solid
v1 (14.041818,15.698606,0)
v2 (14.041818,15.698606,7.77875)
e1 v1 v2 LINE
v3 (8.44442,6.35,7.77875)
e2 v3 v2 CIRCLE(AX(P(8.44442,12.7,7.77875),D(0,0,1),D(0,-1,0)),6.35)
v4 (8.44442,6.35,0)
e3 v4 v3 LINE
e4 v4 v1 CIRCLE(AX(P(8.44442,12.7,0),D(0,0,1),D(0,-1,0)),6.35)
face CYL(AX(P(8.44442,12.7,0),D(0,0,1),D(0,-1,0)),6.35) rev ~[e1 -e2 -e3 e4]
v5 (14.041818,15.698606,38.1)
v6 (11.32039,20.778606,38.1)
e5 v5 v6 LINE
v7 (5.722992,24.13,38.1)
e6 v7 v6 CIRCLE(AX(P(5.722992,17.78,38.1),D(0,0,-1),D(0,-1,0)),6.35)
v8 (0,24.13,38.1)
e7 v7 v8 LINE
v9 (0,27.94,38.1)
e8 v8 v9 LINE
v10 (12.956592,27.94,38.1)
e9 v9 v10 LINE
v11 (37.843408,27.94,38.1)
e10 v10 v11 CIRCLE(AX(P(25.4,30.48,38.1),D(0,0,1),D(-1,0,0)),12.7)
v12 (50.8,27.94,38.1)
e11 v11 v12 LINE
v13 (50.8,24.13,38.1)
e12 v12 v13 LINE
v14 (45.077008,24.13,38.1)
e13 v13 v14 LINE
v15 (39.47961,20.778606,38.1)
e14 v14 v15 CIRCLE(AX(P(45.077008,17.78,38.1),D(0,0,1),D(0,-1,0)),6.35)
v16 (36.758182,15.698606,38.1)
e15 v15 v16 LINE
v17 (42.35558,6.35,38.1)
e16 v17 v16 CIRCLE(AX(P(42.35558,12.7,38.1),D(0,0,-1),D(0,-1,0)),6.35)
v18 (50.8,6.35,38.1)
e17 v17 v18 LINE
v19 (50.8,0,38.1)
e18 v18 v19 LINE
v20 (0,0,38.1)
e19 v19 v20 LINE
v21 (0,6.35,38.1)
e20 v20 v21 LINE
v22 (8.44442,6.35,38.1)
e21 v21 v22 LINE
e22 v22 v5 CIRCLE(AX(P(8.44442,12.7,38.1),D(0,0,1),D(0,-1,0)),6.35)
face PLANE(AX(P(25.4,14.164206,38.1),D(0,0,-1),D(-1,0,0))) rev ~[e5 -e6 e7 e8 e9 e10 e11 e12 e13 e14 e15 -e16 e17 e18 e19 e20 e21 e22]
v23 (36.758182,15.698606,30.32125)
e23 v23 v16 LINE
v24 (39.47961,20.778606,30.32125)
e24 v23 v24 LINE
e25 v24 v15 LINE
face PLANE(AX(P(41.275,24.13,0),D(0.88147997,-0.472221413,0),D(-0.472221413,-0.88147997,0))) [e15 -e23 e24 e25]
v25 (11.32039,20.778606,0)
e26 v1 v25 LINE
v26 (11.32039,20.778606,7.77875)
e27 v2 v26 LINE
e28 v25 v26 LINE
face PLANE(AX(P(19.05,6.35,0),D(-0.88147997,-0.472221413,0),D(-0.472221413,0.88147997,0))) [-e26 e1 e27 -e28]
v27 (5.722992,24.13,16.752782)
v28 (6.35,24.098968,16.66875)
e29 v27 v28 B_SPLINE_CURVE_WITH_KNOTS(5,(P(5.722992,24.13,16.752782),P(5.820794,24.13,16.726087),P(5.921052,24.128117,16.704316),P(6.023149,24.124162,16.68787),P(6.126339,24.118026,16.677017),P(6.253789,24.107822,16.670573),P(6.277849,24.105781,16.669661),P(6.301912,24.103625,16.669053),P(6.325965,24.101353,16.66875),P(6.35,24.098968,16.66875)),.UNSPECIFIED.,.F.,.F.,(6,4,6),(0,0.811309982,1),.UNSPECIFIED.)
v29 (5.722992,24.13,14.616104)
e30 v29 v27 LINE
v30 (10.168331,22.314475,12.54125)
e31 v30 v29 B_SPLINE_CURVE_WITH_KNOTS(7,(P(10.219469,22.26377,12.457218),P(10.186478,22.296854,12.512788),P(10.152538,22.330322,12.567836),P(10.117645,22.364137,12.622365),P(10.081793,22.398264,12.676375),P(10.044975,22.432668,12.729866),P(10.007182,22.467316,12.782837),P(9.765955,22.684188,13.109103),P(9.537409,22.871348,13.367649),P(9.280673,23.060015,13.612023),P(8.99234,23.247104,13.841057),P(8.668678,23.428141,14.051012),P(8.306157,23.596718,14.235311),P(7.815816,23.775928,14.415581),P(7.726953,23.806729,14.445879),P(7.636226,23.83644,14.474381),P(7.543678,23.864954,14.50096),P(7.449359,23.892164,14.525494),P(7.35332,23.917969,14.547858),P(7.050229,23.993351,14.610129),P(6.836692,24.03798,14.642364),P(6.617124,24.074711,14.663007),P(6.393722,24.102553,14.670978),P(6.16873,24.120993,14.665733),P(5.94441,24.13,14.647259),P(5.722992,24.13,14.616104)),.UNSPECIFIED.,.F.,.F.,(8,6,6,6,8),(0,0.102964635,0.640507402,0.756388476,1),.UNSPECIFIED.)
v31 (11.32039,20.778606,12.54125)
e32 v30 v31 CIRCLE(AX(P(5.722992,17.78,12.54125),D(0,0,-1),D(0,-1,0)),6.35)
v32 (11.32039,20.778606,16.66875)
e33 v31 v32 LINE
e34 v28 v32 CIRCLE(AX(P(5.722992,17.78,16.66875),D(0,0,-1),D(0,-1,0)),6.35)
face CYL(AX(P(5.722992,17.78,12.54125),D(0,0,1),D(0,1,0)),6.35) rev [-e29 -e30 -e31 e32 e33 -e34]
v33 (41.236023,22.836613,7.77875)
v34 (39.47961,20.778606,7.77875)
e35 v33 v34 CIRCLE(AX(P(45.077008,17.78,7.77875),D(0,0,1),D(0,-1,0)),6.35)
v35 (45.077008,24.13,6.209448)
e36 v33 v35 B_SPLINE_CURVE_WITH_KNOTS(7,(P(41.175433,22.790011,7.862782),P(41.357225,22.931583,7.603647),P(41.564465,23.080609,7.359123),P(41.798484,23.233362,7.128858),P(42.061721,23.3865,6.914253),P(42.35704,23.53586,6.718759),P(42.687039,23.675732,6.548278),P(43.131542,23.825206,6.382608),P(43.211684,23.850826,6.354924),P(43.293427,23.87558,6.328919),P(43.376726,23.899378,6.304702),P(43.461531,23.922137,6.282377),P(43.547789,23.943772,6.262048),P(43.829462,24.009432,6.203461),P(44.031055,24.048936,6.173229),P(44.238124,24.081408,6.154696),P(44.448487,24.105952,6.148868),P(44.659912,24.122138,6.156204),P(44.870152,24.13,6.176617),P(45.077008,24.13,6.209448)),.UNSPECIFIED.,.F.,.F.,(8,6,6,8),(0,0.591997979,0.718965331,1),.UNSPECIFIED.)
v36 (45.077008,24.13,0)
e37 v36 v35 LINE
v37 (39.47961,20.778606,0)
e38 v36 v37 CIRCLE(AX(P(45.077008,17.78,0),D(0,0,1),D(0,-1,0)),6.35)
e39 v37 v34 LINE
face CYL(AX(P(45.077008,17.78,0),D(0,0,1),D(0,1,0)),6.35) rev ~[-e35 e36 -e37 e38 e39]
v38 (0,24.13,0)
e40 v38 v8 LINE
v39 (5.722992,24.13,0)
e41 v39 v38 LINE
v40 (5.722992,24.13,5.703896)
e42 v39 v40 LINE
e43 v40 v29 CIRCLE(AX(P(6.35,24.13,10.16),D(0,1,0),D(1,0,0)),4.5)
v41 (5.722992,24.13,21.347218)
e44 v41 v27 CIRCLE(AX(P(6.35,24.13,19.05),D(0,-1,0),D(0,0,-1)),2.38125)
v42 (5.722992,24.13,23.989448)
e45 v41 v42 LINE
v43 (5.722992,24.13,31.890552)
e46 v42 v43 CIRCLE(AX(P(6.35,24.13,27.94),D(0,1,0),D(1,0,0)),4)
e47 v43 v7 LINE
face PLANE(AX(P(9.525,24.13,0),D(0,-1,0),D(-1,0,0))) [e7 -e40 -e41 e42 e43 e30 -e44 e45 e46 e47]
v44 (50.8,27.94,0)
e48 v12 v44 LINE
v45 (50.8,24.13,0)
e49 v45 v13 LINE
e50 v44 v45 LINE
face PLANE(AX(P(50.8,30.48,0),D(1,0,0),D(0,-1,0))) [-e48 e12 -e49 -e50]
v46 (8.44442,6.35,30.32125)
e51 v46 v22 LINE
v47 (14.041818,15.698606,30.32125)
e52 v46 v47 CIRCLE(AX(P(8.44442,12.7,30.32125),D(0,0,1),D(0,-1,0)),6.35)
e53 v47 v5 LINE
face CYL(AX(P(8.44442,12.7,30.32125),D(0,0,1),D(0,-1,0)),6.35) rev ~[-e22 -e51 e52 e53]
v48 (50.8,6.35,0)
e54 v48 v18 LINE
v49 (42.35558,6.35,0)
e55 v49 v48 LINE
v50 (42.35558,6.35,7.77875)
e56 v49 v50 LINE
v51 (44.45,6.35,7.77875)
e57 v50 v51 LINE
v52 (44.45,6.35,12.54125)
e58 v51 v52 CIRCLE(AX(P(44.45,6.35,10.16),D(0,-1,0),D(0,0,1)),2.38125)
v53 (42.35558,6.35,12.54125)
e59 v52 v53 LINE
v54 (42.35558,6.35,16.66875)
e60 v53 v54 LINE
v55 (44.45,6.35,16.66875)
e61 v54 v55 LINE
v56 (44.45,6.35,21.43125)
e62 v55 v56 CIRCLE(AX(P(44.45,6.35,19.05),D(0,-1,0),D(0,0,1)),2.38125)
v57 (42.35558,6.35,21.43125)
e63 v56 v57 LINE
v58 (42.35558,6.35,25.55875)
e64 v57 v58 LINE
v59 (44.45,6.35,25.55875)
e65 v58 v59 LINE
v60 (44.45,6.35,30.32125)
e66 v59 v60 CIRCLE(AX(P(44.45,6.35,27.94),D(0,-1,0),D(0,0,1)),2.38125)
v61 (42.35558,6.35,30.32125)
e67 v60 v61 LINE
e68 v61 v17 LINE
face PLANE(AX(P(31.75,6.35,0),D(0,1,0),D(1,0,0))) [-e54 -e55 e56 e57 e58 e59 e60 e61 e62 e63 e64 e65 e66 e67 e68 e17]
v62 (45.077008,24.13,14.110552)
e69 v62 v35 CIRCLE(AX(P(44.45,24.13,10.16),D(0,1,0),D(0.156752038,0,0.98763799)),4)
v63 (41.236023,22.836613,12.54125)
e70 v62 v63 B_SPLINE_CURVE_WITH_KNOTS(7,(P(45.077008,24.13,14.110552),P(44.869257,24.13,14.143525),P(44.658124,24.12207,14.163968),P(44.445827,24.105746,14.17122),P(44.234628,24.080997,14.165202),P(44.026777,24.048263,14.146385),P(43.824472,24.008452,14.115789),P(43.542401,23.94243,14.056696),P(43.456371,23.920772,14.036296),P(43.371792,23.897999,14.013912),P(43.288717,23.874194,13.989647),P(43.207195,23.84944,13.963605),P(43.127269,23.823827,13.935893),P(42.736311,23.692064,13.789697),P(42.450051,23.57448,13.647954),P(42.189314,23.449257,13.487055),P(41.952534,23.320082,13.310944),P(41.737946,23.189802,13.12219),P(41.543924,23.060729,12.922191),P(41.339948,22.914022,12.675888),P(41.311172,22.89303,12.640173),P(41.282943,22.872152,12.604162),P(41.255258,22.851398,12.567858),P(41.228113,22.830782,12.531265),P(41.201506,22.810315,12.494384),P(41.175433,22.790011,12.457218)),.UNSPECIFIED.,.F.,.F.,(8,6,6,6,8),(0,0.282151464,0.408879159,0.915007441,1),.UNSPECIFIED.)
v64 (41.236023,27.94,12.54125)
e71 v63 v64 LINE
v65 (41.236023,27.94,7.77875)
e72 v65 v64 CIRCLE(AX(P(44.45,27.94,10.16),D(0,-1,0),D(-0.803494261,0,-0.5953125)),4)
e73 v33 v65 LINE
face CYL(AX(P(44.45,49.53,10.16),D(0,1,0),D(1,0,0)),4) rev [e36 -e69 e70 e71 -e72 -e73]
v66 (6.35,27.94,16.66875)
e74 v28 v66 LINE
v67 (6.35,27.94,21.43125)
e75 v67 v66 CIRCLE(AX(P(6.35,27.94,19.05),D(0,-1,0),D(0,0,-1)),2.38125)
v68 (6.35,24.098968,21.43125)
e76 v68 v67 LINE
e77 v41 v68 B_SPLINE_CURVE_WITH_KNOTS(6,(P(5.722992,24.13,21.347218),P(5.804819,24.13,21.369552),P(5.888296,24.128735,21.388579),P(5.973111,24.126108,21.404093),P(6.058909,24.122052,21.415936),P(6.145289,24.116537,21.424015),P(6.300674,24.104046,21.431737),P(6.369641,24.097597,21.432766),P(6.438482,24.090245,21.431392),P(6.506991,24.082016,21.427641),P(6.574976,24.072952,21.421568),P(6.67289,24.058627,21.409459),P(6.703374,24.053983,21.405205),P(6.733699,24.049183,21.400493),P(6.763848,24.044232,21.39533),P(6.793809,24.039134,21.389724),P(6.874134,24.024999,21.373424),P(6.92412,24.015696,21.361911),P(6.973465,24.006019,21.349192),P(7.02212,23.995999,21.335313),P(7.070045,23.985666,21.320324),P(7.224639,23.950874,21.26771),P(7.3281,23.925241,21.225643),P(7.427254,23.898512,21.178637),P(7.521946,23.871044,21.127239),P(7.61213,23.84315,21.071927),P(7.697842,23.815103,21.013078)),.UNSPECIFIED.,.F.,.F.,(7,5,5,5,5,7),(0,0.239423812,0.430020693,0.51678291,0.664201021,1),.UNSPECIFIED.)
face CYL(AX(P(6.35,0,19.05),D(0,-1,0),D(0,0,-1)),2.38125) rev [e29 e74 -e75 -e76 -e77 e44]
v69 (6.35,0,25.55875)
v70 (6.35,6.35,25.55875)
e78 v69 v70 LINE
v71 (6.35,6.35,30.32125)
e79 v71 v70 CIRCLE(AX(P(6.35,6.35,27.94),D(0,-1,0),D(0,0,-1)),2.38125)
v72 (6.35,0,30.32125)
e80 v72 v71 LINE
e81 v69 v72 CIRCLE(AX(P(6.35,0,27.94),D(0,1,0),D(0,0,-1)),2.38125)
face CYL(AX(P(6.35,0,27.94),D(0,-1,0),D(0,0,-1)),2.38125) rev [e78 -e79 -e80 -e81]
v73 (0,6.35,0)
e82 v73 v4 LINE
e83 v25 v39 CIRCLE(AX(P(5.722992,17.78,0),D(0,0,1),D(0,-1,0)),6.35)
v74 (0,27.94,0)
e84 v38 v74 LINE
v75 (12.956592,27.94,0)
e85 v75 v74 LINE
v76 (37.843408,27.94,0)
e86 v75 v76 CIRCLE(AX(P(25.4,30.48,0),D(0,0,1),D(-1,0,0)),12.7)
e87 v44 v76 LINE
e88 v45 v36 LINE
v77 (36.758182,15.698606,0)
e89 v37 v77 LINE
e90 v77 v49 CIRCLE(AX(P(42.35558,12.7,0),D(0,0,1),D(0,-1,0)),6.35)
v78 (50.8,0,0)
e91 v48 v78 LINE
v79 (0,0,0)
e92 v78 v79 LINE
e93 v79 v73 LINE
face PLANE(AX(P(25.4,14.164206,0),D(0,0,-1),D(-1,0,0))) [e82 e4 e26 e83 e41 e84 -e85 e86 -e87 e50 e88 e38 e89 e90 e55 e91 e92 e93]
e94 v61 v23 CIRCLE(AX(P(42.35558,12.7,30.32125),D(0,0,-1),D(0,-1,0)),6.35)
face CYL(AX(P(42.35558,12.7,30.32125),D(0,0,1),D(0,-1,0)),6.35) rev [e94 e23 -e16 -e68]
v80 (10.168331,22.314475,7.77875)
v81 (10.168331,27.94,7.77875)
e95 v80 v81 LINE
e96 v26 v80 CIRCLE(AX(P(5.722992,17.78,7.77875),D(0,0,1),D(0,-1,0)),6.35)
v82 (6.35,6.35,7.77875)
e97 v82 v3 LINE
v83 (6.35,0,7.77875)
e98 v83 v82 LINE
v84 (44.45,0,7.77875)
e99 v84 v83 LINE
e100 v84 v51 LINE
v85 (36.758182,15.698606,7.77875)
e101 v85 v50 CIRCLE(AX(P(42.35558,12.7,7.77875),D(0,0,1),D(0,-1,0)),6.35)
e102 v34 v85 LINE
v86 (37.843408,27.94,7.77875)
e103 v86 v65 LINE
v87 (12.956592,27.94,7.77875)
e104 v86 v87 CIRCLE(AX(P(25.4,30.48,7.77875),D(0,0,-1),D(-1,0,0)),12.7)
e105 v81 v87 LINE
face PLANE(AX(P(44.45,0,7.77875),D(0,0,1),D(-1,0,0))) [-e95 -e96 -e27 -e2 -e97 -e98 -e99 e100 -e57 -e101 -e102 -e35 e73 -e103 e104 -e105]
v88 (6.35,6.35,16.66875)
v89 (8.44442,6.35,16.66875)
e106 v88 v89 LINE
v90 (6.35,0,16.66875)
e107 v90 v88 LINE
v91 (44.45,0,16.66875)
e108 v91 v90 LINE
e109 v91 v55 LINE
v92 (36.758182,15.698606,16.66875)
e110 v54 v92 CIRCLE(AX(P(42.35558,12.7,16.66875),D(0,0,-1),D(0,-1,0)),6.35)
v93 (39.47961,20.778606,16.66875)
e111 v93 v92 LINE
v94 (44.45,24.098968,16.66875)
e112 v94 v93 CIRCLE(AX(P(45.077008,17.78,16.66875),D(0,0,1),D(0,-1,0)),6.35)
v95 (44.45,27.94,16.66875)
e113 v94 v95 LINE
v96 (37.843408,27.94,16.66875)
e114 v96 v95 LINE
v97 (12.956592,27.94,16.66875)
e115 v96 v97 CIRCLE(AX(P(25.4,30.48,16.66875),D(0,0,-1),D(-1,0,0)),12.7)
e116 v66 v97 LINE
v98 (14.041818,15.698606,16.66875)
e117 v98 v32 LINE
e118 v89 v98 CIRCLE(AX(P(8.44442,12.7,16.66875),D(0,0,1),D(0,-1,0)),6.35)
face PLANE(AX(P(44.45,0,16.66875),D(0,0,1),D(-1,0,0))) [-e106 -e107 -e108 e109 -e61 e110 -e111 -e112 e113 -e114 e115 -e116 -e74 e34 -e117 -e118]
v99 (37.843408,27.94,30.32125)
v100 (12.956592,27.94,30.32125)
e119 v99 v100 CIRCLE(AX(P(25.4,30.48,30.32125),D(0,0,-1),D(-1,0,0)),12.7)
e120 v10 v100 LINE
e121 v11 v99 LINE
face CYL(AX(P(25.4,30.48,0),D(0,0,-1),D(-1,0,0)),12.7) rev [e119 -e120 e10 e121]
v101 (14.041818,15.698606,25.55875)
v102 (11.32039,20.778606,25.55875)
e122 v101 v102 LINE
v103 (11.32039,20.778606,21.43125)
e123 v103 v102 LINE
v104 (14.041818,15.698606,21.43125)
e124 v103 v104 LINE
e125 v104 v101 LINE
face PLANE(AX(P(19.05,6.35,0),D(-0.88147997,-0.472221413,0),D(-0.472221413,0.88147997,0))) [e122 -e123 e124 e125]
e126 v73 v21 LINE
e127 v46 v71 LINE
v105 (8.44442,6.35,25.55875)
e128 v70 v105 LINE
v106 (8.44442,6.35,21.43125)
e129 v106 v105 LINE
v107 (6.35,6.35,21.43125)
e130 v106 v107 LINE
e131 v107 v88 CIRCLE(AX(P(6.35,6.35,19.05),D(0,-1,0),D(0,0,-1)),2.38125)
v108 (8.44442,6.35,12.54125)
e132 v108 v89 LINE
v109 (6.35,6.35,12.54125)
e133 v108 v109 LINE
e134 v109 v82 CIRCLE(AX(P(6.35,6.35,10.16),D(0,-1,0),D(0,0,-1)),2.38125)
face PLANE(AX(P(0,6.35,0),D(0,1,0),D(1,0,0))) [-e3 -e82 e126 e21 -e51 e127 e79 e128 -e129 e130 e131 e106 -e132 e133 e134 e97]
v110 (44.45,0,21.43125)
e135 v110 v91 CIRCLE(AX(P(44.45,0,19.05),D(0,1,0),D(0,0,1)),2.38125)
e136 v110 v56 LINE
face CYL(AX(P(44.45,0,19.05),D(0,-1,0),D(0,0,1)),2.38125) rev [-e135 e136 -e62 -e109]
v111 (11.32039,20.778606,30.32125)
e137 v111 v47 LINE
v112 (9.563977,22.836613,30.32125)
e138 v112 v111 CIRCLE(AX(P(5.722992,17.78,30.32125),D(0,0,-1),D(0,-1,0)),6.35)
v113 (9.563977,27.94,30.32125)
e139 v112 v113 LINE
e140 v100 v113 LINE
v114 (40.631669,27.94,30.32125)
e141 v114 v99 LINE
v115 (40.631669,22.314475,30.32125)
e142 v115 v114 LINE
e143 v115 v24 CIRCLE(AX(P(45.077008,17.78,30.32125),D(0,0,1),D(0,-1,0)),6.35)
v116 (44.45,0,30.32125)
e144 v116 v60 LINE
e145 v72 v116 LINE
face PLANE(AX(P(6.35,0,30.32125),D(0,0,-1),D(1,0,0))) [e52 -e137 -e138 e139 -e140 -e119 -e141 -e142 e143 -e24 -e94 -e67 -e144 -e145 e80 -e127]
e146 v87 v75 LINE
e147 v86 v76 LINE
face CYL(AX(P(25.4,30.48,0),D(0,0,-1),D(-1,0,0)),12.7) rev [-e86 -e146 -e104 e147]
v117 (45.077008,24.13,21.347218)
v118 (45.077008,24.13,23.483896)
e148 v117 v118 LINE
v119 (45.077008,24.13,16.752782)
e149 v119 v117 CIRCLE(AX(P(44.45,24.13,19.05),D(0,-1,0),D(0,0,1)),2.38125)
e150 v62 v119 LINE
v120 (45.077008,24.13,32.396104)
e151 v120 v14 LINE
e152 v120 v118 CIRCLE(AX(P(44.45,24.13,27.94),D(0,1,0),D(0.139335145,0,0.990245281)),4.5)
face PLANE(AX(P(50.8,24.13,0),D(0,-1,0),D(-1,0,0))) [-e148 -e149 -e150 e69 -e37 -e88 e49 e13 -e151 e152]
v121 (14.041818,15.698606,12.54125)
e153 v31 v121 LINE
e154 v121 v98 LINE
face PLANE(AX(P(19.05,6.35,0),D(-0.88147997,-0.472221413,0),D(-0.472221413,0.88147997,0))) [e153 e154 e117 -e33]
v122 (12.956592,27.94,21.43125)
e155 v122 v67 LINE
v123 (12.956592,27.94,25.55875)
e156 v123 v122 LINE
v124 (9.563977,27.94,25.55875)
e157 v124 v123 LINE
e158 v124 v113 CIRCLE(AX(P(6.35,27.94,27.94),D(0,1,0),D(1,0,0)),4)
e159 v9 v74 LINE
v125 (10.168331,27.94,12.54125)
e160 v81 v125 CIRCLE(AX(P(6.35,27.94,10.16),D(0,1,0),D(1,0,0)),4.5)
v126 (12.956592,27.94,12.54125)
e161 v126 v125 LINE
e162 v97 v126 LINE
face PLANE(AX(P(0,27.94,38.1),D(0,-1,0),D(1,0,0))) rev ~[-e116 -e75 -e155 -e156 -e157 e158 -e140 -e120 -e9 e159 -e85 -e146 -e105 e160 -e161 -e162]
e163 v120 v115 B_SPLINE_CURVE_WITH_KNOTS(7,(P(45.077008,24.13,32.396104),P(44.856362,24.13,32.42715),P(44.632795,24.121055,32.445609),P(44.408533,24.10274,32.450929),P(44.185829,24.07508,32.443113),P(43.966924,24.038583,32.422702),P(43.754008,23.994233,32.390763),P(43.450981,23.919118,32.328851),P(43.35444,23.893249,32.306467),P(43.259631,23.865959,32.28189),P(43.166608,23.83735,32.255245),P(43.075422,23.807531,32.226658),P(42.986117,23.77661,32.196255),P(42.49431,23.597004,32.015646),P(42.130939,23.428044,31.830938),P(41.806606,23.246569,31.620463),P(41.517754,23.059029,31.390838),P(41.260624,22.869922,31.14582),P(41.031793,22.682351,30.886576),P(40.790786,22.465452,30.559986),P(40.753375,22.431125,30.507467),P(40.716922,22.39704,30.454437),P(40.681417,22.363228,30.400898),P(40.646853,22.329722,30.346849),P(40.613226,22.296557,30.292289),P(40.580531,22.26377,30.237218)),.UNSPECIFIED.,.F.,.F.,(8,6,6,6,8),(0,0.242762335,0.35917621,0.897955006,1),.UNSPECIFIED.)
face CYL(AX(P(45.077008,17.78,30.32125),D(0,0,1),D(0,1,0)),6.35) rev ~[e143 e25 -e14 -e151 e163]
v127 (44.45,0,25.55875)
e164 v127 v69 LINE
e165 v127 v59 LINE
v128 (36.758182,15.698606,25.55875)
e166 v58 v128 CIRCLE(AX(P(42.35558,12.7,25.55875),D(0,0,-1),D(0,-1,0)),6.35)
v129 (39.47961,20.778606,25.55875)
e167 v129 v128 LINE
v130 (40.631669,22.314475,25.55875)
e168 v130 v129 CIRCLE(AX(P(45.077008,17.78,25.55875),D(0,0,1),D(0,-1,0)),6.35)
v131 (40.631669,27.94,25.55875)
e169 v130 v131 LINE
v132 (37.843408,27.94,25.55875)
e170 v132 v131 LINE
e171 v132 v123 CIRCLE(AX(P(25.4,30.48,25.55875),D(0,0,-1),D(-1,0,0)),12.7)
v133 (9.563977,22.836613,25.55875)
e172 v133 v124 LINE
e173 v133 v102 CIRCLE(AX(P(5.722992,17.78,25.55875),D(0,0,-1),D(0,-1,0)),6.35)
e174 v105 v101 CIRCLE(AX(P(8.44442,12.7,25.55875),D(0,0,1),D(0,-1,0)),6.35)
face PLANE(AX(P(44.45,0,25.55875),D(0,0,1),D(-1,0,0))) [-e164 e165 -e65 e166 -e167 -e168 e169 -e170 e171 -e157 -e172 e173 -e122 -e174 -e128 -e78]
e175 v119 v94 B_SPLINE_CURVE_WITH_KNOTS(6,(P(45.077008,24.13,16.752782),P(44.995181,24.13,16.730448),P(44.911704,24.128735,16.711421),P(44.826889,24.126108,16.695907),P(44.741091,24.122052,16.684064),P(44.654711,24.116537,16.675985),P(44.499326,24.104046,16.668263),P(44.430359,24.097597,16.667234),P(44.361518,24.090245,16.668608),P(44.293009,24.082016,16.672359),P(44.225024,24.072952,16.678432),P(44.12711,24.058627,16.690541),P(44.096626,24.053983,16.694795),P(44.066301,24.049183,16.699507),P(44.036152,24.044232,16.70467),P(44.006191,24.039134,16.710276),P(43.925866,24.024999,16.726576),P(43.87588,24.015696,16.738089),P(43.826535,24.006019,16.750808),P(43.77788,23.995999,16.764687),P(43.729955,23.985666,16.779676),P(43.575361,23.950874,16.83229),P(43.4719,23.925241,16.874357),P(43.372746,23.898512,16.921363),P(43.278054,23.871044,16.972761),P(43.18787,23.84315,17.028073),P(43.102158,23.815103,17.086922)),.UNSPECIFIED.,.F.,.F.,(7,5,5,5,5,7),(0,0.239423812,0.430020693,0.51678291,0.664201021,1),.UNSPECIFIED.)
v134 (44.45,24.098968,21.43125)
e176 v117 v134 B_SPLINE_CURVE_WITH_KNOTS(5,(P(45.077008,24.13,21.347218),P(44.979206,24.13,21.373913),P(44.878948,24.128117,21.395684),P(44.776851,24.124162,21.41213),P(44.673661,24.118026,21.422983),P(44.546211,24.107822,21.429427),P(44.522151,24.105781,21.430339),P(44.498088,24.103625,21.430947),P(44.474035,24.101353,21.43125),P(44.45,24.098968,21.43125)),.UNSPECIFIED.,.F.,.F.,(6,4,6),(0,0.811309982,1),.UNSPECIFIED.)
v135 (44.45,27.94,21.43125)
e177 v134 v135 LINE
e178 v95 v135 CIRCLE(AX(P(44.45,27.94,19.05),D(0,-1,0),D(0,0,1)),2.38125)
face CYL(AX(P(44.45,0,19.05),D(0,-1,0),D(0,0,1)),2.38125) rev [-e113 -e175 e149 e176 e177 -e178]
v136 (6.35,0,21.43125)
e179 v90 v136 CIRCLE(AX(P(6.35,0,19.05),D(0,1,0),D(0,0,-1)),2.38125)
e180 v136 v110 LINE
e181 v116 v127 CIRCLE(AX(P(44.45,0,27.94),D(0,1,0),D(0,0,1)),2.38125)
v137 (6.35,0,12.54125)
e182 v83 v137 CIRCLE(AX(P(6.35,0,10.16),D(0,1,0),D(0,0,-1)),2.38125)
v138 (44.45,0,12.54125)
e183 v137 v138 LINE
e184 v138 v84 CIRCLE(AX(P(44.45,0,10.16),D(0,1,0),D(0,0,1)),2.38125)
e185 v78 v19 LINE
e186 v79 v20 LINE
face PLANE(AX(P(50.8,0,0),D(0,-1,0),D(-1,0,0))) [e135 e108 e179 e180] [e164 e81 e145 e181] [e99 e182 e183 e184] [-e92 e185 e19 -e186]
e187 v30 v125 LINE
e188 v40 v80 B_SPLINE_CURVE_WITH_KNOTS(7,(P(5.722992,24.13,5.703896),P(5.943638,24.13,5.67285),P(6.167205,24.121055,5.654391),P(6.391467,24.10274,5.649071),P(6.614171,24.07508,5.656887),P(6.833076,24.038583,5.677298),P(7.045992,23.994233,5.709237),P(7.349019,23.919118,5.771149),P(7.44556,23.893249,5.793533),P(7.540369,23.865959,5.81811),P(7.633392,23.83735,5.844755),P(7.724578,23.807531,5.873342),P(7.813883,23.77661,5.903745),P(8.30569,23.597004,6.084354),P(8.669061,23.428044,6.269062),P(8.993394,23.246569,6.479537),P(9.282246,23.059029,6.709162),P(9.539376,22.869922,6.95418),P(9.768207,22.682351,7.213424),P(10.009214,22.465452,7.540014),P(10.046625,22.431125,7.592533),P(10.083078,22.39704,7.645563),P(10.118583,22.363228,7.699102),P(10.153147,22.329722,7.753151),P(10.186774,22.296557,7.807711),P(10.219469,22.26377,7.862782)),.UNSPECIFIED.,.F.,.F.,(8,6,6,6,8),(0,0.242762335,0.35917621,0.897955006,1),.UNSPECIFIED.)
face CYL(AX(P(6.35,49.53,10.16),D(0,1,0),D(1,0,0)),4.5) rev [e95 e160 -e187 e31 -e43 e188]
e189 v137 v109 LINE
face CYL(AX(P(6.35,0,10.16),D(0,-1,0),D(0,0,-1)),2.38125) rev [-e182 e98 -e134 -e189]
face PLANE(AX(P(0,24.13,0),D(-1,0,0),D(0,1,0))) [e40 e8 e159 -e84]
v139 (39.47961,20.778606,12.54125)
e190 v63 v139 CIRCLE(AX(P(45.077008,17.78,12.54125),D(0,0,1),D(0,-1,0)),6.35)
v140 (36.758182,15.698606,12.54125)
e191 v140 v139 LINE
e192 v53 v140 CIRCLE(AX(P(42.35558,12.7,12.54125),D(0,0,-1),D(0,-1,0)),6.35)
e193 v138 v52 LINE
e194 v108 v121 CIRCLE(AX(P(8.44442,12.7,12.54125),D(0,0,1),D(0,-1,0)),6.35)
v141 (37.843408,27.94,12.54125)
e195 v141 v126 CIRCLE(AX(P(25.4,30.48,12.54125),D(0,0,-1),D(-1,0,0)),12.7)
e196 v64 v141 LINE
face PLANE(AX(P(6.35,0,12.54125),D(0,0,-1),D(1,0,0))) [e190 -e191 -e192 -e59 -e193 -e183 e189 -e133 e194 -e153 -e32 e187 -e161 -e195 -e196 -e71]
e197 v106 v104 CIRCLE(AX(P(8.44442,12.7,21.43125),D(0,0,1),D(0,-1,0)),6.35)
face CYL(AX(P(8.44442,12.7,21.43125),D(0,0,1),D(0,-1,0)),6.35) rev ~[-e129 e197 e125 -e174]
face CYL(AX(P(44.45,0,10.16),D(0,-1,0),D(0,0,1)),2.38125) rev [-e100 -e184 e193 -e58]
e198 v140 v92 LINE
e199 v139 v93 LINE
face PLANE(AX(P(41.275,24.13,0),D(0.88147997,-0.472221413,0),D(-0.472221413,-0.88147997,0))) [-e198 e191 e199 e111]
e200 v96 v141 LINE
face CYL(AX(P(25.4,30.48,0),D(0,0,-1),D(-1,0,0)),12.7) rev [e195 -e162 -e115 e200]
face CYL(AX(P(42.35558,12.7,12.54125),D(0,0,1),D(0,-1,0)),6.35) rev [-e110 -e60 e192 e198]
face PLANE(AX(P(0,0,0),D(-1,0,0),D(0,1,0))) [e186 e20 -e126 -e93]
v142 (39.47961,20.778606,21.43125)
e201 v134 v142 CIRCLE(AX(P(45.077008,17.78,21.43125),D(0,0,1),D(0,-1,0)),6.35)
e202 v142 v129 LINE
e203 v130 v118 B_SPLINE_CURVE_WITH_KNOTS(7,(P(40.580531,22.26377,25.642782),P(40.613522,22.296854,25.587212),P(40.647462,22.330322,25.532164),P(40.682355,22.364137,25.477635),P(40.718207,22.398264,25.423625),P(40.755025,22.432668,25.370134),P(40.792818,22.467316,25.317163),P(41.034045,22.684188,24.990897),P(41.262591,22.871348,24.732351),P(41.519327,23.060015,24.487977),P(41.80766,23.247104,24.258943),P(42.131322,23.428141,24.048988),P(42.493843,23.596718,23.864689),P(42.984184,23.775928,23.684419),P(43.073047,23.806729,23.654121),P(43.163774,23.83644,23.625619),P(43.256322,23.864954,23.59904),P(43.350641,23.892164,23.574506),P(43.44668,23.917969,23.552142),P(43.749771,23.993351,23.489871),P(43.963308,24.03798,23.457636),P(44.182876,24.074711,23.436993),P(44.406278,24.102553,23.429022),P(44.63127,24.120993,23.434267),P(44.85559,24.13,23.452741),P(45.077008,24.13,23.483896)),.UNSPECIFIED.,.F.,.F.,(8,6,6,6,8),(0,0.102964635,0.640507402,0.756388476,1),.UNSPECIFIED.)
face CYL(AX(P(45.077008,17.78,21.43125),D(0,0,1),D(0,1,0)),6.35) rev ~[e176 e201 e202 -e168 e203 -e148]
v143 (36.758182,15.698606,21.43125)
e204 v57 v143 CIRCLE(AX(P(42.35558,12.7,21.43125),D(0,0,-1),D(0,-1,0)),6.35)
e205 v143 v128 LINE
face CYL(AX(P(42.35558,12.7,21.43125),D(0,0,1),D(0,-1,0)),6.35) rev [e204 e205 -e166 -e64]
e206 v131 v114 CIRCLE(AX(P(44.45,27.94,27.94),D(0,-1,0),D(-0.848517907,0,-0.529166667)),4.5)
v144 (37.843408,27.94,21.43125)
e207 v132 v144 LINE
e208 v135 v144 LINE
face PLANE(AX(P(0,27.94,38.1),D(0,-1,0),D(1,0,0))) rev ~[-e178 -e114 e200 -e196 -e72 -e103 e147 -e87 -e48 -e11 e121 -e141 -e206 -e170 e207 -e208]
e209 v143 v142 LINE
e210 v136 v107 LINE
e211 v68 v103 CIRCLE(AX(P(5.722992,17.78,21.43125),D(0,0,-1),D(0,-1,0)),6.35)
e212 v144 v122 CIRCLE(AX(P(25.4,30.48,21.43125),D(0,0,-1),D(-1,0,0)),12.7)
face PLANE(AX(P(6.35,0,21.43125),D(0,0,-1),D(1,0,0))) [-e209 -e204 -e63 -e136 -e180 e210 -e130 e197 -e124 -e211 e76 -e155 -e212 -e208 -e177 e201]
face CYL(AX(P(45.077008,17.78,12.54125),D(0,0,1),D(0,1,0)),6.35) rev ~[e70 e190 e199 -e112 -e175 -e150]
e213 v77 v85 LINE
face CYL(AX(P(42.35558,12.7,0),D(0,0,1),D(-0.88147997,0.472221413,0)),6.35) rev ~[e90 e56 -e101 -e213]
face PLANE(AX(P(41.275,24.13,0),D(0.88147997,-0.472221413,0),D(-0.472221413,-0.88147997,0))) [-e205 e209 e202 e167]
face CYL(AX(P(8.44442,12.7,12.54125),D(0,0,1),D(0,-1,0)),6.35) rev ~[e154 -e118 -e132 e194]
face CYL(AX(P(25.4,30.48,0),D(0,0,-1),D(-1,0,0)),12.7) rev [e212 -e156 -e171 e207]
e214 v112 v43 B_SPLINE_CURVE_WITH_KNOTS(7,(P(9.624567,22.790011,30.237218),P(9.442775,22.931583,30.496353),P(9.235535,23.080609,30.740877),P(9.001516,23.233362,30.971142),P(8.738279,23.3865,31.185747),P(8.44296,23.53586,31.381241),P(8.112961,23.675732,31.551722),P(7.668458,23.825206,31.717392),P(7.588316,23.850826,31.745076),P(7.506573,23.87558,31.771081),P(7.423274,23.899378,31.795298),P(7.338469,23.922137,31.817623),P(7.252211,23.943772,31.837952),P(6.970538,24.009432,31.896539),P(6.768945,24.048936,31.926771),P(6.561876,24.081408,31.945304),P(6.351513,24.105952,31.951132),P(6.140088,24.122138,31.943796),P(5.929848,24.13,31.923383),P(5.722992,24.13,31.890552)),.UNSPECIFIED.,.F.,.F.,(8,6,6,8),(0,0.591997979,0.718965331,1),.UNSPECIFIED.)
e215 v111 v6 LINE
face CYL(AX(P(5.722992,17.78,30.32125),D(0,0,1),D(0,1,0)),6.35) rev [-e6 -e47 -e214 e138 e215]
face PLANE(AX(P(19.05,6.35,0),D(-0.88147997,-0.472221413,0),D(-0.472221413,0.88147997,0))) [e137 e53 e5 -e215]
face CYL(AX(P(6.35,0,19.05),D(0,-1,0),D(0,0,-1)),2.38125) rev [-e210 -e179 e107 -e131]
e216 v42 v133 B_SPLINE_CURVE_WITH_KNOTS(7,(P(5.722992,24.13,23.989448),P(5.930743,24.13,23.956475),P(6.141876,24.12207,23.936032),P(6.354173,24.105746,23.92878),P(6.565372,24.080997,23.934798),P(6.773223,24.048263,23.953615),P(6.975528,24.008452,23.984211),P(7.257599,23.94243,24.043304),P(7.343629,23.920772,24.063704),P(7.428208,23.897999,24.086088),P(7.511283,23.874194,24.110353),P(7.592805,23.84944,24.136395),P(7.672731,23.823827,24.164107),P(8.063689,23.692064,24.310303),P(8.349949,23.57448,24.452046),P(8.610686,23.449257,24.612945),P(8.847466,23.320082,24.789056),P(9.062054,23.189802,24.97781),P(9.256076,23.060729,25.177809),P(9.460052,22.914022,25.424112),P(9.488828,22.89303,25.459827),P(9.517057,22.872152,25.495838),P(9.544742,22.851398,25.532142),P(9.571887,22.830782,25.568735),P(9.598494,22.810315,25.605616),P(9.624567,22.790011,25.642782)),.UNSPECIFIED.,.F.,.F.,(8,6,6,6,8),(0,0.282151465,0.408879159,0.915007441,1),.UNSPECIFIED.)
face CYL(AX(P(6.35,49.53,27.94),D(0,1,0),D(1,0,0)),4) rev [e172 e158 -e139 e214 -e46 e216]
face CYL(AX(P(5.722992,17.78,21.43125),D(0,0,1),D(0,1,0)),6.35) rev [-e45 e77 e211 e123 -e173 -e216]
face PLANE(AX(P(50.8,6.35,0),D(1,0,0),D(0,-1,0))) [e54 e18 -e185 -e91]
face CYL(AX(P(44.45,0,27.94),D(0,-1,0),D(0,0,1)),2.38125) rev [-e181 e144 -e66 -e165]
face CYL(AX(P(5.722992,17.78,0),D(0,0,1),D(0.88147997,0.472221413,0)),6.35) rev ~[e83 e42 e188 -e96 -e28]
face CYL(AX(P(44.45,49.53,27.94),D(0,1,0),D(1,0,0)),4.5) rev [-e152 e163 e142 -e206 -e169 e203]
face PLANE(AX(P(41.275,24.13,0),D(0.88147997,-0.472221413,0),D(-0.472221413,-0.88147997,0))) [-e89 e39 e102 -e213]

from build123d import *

# Parameters (mm, degrees)
BOSS_EXTRUDE1_DEPTH     = 38.1
CUT_EXTRUDE2_DEPTH      = 71.436357089
FILLET1_R               = 6.35
SKETCH4_W               = 50.8
SKETCH4_H               = 2.54
CUT_EXTRUDE3_DEPTH      = 71.436357187
CUT_EXTRUDE5_DEPTH      = 5.08
CUT_EXTRUDE5_DEPTH_BACK = 25.4
SKETCH5_R               = 4.5
SKETCH5_R_2             = 4


with BuildPart() as part:
    # Sketch1 → Boss-Extrude1 (new body)
    with BuildSketch(Plane.XY):
        with BuildLine():
            Line((38.1, 30.48), (50.8, 30.48))
            Line((50.8, 30.48), (50.8, 24.13))
            Line((50.8, 24.13), (41.275, 24.13))
            Line((41.275, 24.13), (31.75, 6.35))
            Line((31.75, 6.35), (50.8, 6.35))
            Line((50.8, 6.35), (50.8, 0))
            Line((50.8, 0), (0, 0))
            Line((0, 0), (0, 6.35))
            Line((0, 6.35), (19.05, 6.35))
            Line((19.05, 6.35), (9.525, 24.13))
            Line((9.525, 24.13), (0, 24.13))
            Line((0, 24.13), (0, 30.48))
            Line((0, 30.48), (12.7, 30.48))
            ThreePointArc((12.7, 30.48), (25.4, 17.78), (38.1, 30.48))
        make_face()
    extrude(amount=BOSS_EXTRUDE1_DEPTH)

    # Sketch3 → Cut-Extrude2 (cut, through all)
    with BuildSketch(Plane.XZ):
        with BuildLine():
            Line((6.35, 21.43125), (44.45, 21.43125))
            ThreePointArc((44.45, 21.43125), (46.83125, 19.05), (44.45, 16.66875))
            Line((44.45, 16.66875), (6.35, 16.66875))
            ThreePointArc((6.35, 16.66875), (3.96875, 19.05), (6.35, 21.43125))
        make_face()
        with BuildLine():
            Line((6.35, 30.32125), (44.45, 30.32125))
            ThreePointArc((44.45, 30.32125), (46.83125, 27.94), (44.45, 25.55875))
            Line((44.45, 25.55875), (6.35, 25.55875))
            ThreePointArc((6.35, 25.55875), (3.96875, 27.94), (6.35, 30.32125))
        make_face()
        with BuildLine():
            Line((6.35, 12.54125), (44.45, 12.54125))
            ThreePointArc((44.45, 12.54125), (46.83125, 10.16), (44.45, 7.77875))
            Line((44.45, 7.77875), (6.35, 7.77875))
            ThreePointArc((6.35, 7.77875), (3.96875, 10.16), (6.35, 12.54125))
        make_face()
    extrude(amount=-CUT_EXTRUDE2_DEPTH, mode=Mode.SUBTRACT)

    # Fillet1
    fillet1_edges = [part.edges().sort_by_distance(p)[0] for p in [
        (41.275, 24.13, 3.889375),
        (41.275, 24.13, 34.210625),
        (19.05, 6.35, 34.210625),
        (19.05, 6.35, 23.495),
        (19.05, 6.35, 14.605),
        (19.05, 6.35, 3.889375),
        (31.75, 6.35, 34.210625),
        (31.75, 6.35, 23.495),
        (31.75, 6.35, 14.605),
        (31.75, 6.35, 3.889375),
        (9.525, 24.13, 34.210625),
        (9.525, 24.13, 23.495),
        (9.525, 24.13, 14.605),
        (9.525, 24.13, 3.889375),
        (41.275, 24.13, 23.495),
        (41.275, 24.13, 14.605),
    ]]
    fillet(fillet1_edges, radius=FILLET1_R)

    # Sketch4 → Cut-Extrude3 (cut, through all)
    with BuildSketch(Plane.XY.offset(38.1)):
        with Locations((25.4, 29.21)):
            Rectangle(SKETCH4_W, SKETCH4_H)
    extrude(amount=-CUT_EXTRUDE3_DEPTH, mode=Mode.SUBTRACT)

    # Sketch5 → Cut-Extrude5 (cut, two sides: drawn at the far end of the back side and taken through both)
    with BuildSketch(Plane.XZ.offset(-24.13).offset(-CUT_EXTRUDE5_DEPTH_BACK)):
        with Locations((44.45, 27.94)):
            Circle(SKETCH5_R)
        with Locations((6.35, 27.94)):
            Circle(SKETCH5_R_2)
        with Locations((6.35, 10.16)):
            Circle(SKETCH5_R)
        with Locations((44.45, 10.16)):
            Circle(SKETCH5_R_2)
    extrude(amount=CUT_EXTRUDE5_DEPTH + CUT_EXTRUDE5_DEPTH_BACK, mode=Mode.SUBTRACT)


solid = part.part
